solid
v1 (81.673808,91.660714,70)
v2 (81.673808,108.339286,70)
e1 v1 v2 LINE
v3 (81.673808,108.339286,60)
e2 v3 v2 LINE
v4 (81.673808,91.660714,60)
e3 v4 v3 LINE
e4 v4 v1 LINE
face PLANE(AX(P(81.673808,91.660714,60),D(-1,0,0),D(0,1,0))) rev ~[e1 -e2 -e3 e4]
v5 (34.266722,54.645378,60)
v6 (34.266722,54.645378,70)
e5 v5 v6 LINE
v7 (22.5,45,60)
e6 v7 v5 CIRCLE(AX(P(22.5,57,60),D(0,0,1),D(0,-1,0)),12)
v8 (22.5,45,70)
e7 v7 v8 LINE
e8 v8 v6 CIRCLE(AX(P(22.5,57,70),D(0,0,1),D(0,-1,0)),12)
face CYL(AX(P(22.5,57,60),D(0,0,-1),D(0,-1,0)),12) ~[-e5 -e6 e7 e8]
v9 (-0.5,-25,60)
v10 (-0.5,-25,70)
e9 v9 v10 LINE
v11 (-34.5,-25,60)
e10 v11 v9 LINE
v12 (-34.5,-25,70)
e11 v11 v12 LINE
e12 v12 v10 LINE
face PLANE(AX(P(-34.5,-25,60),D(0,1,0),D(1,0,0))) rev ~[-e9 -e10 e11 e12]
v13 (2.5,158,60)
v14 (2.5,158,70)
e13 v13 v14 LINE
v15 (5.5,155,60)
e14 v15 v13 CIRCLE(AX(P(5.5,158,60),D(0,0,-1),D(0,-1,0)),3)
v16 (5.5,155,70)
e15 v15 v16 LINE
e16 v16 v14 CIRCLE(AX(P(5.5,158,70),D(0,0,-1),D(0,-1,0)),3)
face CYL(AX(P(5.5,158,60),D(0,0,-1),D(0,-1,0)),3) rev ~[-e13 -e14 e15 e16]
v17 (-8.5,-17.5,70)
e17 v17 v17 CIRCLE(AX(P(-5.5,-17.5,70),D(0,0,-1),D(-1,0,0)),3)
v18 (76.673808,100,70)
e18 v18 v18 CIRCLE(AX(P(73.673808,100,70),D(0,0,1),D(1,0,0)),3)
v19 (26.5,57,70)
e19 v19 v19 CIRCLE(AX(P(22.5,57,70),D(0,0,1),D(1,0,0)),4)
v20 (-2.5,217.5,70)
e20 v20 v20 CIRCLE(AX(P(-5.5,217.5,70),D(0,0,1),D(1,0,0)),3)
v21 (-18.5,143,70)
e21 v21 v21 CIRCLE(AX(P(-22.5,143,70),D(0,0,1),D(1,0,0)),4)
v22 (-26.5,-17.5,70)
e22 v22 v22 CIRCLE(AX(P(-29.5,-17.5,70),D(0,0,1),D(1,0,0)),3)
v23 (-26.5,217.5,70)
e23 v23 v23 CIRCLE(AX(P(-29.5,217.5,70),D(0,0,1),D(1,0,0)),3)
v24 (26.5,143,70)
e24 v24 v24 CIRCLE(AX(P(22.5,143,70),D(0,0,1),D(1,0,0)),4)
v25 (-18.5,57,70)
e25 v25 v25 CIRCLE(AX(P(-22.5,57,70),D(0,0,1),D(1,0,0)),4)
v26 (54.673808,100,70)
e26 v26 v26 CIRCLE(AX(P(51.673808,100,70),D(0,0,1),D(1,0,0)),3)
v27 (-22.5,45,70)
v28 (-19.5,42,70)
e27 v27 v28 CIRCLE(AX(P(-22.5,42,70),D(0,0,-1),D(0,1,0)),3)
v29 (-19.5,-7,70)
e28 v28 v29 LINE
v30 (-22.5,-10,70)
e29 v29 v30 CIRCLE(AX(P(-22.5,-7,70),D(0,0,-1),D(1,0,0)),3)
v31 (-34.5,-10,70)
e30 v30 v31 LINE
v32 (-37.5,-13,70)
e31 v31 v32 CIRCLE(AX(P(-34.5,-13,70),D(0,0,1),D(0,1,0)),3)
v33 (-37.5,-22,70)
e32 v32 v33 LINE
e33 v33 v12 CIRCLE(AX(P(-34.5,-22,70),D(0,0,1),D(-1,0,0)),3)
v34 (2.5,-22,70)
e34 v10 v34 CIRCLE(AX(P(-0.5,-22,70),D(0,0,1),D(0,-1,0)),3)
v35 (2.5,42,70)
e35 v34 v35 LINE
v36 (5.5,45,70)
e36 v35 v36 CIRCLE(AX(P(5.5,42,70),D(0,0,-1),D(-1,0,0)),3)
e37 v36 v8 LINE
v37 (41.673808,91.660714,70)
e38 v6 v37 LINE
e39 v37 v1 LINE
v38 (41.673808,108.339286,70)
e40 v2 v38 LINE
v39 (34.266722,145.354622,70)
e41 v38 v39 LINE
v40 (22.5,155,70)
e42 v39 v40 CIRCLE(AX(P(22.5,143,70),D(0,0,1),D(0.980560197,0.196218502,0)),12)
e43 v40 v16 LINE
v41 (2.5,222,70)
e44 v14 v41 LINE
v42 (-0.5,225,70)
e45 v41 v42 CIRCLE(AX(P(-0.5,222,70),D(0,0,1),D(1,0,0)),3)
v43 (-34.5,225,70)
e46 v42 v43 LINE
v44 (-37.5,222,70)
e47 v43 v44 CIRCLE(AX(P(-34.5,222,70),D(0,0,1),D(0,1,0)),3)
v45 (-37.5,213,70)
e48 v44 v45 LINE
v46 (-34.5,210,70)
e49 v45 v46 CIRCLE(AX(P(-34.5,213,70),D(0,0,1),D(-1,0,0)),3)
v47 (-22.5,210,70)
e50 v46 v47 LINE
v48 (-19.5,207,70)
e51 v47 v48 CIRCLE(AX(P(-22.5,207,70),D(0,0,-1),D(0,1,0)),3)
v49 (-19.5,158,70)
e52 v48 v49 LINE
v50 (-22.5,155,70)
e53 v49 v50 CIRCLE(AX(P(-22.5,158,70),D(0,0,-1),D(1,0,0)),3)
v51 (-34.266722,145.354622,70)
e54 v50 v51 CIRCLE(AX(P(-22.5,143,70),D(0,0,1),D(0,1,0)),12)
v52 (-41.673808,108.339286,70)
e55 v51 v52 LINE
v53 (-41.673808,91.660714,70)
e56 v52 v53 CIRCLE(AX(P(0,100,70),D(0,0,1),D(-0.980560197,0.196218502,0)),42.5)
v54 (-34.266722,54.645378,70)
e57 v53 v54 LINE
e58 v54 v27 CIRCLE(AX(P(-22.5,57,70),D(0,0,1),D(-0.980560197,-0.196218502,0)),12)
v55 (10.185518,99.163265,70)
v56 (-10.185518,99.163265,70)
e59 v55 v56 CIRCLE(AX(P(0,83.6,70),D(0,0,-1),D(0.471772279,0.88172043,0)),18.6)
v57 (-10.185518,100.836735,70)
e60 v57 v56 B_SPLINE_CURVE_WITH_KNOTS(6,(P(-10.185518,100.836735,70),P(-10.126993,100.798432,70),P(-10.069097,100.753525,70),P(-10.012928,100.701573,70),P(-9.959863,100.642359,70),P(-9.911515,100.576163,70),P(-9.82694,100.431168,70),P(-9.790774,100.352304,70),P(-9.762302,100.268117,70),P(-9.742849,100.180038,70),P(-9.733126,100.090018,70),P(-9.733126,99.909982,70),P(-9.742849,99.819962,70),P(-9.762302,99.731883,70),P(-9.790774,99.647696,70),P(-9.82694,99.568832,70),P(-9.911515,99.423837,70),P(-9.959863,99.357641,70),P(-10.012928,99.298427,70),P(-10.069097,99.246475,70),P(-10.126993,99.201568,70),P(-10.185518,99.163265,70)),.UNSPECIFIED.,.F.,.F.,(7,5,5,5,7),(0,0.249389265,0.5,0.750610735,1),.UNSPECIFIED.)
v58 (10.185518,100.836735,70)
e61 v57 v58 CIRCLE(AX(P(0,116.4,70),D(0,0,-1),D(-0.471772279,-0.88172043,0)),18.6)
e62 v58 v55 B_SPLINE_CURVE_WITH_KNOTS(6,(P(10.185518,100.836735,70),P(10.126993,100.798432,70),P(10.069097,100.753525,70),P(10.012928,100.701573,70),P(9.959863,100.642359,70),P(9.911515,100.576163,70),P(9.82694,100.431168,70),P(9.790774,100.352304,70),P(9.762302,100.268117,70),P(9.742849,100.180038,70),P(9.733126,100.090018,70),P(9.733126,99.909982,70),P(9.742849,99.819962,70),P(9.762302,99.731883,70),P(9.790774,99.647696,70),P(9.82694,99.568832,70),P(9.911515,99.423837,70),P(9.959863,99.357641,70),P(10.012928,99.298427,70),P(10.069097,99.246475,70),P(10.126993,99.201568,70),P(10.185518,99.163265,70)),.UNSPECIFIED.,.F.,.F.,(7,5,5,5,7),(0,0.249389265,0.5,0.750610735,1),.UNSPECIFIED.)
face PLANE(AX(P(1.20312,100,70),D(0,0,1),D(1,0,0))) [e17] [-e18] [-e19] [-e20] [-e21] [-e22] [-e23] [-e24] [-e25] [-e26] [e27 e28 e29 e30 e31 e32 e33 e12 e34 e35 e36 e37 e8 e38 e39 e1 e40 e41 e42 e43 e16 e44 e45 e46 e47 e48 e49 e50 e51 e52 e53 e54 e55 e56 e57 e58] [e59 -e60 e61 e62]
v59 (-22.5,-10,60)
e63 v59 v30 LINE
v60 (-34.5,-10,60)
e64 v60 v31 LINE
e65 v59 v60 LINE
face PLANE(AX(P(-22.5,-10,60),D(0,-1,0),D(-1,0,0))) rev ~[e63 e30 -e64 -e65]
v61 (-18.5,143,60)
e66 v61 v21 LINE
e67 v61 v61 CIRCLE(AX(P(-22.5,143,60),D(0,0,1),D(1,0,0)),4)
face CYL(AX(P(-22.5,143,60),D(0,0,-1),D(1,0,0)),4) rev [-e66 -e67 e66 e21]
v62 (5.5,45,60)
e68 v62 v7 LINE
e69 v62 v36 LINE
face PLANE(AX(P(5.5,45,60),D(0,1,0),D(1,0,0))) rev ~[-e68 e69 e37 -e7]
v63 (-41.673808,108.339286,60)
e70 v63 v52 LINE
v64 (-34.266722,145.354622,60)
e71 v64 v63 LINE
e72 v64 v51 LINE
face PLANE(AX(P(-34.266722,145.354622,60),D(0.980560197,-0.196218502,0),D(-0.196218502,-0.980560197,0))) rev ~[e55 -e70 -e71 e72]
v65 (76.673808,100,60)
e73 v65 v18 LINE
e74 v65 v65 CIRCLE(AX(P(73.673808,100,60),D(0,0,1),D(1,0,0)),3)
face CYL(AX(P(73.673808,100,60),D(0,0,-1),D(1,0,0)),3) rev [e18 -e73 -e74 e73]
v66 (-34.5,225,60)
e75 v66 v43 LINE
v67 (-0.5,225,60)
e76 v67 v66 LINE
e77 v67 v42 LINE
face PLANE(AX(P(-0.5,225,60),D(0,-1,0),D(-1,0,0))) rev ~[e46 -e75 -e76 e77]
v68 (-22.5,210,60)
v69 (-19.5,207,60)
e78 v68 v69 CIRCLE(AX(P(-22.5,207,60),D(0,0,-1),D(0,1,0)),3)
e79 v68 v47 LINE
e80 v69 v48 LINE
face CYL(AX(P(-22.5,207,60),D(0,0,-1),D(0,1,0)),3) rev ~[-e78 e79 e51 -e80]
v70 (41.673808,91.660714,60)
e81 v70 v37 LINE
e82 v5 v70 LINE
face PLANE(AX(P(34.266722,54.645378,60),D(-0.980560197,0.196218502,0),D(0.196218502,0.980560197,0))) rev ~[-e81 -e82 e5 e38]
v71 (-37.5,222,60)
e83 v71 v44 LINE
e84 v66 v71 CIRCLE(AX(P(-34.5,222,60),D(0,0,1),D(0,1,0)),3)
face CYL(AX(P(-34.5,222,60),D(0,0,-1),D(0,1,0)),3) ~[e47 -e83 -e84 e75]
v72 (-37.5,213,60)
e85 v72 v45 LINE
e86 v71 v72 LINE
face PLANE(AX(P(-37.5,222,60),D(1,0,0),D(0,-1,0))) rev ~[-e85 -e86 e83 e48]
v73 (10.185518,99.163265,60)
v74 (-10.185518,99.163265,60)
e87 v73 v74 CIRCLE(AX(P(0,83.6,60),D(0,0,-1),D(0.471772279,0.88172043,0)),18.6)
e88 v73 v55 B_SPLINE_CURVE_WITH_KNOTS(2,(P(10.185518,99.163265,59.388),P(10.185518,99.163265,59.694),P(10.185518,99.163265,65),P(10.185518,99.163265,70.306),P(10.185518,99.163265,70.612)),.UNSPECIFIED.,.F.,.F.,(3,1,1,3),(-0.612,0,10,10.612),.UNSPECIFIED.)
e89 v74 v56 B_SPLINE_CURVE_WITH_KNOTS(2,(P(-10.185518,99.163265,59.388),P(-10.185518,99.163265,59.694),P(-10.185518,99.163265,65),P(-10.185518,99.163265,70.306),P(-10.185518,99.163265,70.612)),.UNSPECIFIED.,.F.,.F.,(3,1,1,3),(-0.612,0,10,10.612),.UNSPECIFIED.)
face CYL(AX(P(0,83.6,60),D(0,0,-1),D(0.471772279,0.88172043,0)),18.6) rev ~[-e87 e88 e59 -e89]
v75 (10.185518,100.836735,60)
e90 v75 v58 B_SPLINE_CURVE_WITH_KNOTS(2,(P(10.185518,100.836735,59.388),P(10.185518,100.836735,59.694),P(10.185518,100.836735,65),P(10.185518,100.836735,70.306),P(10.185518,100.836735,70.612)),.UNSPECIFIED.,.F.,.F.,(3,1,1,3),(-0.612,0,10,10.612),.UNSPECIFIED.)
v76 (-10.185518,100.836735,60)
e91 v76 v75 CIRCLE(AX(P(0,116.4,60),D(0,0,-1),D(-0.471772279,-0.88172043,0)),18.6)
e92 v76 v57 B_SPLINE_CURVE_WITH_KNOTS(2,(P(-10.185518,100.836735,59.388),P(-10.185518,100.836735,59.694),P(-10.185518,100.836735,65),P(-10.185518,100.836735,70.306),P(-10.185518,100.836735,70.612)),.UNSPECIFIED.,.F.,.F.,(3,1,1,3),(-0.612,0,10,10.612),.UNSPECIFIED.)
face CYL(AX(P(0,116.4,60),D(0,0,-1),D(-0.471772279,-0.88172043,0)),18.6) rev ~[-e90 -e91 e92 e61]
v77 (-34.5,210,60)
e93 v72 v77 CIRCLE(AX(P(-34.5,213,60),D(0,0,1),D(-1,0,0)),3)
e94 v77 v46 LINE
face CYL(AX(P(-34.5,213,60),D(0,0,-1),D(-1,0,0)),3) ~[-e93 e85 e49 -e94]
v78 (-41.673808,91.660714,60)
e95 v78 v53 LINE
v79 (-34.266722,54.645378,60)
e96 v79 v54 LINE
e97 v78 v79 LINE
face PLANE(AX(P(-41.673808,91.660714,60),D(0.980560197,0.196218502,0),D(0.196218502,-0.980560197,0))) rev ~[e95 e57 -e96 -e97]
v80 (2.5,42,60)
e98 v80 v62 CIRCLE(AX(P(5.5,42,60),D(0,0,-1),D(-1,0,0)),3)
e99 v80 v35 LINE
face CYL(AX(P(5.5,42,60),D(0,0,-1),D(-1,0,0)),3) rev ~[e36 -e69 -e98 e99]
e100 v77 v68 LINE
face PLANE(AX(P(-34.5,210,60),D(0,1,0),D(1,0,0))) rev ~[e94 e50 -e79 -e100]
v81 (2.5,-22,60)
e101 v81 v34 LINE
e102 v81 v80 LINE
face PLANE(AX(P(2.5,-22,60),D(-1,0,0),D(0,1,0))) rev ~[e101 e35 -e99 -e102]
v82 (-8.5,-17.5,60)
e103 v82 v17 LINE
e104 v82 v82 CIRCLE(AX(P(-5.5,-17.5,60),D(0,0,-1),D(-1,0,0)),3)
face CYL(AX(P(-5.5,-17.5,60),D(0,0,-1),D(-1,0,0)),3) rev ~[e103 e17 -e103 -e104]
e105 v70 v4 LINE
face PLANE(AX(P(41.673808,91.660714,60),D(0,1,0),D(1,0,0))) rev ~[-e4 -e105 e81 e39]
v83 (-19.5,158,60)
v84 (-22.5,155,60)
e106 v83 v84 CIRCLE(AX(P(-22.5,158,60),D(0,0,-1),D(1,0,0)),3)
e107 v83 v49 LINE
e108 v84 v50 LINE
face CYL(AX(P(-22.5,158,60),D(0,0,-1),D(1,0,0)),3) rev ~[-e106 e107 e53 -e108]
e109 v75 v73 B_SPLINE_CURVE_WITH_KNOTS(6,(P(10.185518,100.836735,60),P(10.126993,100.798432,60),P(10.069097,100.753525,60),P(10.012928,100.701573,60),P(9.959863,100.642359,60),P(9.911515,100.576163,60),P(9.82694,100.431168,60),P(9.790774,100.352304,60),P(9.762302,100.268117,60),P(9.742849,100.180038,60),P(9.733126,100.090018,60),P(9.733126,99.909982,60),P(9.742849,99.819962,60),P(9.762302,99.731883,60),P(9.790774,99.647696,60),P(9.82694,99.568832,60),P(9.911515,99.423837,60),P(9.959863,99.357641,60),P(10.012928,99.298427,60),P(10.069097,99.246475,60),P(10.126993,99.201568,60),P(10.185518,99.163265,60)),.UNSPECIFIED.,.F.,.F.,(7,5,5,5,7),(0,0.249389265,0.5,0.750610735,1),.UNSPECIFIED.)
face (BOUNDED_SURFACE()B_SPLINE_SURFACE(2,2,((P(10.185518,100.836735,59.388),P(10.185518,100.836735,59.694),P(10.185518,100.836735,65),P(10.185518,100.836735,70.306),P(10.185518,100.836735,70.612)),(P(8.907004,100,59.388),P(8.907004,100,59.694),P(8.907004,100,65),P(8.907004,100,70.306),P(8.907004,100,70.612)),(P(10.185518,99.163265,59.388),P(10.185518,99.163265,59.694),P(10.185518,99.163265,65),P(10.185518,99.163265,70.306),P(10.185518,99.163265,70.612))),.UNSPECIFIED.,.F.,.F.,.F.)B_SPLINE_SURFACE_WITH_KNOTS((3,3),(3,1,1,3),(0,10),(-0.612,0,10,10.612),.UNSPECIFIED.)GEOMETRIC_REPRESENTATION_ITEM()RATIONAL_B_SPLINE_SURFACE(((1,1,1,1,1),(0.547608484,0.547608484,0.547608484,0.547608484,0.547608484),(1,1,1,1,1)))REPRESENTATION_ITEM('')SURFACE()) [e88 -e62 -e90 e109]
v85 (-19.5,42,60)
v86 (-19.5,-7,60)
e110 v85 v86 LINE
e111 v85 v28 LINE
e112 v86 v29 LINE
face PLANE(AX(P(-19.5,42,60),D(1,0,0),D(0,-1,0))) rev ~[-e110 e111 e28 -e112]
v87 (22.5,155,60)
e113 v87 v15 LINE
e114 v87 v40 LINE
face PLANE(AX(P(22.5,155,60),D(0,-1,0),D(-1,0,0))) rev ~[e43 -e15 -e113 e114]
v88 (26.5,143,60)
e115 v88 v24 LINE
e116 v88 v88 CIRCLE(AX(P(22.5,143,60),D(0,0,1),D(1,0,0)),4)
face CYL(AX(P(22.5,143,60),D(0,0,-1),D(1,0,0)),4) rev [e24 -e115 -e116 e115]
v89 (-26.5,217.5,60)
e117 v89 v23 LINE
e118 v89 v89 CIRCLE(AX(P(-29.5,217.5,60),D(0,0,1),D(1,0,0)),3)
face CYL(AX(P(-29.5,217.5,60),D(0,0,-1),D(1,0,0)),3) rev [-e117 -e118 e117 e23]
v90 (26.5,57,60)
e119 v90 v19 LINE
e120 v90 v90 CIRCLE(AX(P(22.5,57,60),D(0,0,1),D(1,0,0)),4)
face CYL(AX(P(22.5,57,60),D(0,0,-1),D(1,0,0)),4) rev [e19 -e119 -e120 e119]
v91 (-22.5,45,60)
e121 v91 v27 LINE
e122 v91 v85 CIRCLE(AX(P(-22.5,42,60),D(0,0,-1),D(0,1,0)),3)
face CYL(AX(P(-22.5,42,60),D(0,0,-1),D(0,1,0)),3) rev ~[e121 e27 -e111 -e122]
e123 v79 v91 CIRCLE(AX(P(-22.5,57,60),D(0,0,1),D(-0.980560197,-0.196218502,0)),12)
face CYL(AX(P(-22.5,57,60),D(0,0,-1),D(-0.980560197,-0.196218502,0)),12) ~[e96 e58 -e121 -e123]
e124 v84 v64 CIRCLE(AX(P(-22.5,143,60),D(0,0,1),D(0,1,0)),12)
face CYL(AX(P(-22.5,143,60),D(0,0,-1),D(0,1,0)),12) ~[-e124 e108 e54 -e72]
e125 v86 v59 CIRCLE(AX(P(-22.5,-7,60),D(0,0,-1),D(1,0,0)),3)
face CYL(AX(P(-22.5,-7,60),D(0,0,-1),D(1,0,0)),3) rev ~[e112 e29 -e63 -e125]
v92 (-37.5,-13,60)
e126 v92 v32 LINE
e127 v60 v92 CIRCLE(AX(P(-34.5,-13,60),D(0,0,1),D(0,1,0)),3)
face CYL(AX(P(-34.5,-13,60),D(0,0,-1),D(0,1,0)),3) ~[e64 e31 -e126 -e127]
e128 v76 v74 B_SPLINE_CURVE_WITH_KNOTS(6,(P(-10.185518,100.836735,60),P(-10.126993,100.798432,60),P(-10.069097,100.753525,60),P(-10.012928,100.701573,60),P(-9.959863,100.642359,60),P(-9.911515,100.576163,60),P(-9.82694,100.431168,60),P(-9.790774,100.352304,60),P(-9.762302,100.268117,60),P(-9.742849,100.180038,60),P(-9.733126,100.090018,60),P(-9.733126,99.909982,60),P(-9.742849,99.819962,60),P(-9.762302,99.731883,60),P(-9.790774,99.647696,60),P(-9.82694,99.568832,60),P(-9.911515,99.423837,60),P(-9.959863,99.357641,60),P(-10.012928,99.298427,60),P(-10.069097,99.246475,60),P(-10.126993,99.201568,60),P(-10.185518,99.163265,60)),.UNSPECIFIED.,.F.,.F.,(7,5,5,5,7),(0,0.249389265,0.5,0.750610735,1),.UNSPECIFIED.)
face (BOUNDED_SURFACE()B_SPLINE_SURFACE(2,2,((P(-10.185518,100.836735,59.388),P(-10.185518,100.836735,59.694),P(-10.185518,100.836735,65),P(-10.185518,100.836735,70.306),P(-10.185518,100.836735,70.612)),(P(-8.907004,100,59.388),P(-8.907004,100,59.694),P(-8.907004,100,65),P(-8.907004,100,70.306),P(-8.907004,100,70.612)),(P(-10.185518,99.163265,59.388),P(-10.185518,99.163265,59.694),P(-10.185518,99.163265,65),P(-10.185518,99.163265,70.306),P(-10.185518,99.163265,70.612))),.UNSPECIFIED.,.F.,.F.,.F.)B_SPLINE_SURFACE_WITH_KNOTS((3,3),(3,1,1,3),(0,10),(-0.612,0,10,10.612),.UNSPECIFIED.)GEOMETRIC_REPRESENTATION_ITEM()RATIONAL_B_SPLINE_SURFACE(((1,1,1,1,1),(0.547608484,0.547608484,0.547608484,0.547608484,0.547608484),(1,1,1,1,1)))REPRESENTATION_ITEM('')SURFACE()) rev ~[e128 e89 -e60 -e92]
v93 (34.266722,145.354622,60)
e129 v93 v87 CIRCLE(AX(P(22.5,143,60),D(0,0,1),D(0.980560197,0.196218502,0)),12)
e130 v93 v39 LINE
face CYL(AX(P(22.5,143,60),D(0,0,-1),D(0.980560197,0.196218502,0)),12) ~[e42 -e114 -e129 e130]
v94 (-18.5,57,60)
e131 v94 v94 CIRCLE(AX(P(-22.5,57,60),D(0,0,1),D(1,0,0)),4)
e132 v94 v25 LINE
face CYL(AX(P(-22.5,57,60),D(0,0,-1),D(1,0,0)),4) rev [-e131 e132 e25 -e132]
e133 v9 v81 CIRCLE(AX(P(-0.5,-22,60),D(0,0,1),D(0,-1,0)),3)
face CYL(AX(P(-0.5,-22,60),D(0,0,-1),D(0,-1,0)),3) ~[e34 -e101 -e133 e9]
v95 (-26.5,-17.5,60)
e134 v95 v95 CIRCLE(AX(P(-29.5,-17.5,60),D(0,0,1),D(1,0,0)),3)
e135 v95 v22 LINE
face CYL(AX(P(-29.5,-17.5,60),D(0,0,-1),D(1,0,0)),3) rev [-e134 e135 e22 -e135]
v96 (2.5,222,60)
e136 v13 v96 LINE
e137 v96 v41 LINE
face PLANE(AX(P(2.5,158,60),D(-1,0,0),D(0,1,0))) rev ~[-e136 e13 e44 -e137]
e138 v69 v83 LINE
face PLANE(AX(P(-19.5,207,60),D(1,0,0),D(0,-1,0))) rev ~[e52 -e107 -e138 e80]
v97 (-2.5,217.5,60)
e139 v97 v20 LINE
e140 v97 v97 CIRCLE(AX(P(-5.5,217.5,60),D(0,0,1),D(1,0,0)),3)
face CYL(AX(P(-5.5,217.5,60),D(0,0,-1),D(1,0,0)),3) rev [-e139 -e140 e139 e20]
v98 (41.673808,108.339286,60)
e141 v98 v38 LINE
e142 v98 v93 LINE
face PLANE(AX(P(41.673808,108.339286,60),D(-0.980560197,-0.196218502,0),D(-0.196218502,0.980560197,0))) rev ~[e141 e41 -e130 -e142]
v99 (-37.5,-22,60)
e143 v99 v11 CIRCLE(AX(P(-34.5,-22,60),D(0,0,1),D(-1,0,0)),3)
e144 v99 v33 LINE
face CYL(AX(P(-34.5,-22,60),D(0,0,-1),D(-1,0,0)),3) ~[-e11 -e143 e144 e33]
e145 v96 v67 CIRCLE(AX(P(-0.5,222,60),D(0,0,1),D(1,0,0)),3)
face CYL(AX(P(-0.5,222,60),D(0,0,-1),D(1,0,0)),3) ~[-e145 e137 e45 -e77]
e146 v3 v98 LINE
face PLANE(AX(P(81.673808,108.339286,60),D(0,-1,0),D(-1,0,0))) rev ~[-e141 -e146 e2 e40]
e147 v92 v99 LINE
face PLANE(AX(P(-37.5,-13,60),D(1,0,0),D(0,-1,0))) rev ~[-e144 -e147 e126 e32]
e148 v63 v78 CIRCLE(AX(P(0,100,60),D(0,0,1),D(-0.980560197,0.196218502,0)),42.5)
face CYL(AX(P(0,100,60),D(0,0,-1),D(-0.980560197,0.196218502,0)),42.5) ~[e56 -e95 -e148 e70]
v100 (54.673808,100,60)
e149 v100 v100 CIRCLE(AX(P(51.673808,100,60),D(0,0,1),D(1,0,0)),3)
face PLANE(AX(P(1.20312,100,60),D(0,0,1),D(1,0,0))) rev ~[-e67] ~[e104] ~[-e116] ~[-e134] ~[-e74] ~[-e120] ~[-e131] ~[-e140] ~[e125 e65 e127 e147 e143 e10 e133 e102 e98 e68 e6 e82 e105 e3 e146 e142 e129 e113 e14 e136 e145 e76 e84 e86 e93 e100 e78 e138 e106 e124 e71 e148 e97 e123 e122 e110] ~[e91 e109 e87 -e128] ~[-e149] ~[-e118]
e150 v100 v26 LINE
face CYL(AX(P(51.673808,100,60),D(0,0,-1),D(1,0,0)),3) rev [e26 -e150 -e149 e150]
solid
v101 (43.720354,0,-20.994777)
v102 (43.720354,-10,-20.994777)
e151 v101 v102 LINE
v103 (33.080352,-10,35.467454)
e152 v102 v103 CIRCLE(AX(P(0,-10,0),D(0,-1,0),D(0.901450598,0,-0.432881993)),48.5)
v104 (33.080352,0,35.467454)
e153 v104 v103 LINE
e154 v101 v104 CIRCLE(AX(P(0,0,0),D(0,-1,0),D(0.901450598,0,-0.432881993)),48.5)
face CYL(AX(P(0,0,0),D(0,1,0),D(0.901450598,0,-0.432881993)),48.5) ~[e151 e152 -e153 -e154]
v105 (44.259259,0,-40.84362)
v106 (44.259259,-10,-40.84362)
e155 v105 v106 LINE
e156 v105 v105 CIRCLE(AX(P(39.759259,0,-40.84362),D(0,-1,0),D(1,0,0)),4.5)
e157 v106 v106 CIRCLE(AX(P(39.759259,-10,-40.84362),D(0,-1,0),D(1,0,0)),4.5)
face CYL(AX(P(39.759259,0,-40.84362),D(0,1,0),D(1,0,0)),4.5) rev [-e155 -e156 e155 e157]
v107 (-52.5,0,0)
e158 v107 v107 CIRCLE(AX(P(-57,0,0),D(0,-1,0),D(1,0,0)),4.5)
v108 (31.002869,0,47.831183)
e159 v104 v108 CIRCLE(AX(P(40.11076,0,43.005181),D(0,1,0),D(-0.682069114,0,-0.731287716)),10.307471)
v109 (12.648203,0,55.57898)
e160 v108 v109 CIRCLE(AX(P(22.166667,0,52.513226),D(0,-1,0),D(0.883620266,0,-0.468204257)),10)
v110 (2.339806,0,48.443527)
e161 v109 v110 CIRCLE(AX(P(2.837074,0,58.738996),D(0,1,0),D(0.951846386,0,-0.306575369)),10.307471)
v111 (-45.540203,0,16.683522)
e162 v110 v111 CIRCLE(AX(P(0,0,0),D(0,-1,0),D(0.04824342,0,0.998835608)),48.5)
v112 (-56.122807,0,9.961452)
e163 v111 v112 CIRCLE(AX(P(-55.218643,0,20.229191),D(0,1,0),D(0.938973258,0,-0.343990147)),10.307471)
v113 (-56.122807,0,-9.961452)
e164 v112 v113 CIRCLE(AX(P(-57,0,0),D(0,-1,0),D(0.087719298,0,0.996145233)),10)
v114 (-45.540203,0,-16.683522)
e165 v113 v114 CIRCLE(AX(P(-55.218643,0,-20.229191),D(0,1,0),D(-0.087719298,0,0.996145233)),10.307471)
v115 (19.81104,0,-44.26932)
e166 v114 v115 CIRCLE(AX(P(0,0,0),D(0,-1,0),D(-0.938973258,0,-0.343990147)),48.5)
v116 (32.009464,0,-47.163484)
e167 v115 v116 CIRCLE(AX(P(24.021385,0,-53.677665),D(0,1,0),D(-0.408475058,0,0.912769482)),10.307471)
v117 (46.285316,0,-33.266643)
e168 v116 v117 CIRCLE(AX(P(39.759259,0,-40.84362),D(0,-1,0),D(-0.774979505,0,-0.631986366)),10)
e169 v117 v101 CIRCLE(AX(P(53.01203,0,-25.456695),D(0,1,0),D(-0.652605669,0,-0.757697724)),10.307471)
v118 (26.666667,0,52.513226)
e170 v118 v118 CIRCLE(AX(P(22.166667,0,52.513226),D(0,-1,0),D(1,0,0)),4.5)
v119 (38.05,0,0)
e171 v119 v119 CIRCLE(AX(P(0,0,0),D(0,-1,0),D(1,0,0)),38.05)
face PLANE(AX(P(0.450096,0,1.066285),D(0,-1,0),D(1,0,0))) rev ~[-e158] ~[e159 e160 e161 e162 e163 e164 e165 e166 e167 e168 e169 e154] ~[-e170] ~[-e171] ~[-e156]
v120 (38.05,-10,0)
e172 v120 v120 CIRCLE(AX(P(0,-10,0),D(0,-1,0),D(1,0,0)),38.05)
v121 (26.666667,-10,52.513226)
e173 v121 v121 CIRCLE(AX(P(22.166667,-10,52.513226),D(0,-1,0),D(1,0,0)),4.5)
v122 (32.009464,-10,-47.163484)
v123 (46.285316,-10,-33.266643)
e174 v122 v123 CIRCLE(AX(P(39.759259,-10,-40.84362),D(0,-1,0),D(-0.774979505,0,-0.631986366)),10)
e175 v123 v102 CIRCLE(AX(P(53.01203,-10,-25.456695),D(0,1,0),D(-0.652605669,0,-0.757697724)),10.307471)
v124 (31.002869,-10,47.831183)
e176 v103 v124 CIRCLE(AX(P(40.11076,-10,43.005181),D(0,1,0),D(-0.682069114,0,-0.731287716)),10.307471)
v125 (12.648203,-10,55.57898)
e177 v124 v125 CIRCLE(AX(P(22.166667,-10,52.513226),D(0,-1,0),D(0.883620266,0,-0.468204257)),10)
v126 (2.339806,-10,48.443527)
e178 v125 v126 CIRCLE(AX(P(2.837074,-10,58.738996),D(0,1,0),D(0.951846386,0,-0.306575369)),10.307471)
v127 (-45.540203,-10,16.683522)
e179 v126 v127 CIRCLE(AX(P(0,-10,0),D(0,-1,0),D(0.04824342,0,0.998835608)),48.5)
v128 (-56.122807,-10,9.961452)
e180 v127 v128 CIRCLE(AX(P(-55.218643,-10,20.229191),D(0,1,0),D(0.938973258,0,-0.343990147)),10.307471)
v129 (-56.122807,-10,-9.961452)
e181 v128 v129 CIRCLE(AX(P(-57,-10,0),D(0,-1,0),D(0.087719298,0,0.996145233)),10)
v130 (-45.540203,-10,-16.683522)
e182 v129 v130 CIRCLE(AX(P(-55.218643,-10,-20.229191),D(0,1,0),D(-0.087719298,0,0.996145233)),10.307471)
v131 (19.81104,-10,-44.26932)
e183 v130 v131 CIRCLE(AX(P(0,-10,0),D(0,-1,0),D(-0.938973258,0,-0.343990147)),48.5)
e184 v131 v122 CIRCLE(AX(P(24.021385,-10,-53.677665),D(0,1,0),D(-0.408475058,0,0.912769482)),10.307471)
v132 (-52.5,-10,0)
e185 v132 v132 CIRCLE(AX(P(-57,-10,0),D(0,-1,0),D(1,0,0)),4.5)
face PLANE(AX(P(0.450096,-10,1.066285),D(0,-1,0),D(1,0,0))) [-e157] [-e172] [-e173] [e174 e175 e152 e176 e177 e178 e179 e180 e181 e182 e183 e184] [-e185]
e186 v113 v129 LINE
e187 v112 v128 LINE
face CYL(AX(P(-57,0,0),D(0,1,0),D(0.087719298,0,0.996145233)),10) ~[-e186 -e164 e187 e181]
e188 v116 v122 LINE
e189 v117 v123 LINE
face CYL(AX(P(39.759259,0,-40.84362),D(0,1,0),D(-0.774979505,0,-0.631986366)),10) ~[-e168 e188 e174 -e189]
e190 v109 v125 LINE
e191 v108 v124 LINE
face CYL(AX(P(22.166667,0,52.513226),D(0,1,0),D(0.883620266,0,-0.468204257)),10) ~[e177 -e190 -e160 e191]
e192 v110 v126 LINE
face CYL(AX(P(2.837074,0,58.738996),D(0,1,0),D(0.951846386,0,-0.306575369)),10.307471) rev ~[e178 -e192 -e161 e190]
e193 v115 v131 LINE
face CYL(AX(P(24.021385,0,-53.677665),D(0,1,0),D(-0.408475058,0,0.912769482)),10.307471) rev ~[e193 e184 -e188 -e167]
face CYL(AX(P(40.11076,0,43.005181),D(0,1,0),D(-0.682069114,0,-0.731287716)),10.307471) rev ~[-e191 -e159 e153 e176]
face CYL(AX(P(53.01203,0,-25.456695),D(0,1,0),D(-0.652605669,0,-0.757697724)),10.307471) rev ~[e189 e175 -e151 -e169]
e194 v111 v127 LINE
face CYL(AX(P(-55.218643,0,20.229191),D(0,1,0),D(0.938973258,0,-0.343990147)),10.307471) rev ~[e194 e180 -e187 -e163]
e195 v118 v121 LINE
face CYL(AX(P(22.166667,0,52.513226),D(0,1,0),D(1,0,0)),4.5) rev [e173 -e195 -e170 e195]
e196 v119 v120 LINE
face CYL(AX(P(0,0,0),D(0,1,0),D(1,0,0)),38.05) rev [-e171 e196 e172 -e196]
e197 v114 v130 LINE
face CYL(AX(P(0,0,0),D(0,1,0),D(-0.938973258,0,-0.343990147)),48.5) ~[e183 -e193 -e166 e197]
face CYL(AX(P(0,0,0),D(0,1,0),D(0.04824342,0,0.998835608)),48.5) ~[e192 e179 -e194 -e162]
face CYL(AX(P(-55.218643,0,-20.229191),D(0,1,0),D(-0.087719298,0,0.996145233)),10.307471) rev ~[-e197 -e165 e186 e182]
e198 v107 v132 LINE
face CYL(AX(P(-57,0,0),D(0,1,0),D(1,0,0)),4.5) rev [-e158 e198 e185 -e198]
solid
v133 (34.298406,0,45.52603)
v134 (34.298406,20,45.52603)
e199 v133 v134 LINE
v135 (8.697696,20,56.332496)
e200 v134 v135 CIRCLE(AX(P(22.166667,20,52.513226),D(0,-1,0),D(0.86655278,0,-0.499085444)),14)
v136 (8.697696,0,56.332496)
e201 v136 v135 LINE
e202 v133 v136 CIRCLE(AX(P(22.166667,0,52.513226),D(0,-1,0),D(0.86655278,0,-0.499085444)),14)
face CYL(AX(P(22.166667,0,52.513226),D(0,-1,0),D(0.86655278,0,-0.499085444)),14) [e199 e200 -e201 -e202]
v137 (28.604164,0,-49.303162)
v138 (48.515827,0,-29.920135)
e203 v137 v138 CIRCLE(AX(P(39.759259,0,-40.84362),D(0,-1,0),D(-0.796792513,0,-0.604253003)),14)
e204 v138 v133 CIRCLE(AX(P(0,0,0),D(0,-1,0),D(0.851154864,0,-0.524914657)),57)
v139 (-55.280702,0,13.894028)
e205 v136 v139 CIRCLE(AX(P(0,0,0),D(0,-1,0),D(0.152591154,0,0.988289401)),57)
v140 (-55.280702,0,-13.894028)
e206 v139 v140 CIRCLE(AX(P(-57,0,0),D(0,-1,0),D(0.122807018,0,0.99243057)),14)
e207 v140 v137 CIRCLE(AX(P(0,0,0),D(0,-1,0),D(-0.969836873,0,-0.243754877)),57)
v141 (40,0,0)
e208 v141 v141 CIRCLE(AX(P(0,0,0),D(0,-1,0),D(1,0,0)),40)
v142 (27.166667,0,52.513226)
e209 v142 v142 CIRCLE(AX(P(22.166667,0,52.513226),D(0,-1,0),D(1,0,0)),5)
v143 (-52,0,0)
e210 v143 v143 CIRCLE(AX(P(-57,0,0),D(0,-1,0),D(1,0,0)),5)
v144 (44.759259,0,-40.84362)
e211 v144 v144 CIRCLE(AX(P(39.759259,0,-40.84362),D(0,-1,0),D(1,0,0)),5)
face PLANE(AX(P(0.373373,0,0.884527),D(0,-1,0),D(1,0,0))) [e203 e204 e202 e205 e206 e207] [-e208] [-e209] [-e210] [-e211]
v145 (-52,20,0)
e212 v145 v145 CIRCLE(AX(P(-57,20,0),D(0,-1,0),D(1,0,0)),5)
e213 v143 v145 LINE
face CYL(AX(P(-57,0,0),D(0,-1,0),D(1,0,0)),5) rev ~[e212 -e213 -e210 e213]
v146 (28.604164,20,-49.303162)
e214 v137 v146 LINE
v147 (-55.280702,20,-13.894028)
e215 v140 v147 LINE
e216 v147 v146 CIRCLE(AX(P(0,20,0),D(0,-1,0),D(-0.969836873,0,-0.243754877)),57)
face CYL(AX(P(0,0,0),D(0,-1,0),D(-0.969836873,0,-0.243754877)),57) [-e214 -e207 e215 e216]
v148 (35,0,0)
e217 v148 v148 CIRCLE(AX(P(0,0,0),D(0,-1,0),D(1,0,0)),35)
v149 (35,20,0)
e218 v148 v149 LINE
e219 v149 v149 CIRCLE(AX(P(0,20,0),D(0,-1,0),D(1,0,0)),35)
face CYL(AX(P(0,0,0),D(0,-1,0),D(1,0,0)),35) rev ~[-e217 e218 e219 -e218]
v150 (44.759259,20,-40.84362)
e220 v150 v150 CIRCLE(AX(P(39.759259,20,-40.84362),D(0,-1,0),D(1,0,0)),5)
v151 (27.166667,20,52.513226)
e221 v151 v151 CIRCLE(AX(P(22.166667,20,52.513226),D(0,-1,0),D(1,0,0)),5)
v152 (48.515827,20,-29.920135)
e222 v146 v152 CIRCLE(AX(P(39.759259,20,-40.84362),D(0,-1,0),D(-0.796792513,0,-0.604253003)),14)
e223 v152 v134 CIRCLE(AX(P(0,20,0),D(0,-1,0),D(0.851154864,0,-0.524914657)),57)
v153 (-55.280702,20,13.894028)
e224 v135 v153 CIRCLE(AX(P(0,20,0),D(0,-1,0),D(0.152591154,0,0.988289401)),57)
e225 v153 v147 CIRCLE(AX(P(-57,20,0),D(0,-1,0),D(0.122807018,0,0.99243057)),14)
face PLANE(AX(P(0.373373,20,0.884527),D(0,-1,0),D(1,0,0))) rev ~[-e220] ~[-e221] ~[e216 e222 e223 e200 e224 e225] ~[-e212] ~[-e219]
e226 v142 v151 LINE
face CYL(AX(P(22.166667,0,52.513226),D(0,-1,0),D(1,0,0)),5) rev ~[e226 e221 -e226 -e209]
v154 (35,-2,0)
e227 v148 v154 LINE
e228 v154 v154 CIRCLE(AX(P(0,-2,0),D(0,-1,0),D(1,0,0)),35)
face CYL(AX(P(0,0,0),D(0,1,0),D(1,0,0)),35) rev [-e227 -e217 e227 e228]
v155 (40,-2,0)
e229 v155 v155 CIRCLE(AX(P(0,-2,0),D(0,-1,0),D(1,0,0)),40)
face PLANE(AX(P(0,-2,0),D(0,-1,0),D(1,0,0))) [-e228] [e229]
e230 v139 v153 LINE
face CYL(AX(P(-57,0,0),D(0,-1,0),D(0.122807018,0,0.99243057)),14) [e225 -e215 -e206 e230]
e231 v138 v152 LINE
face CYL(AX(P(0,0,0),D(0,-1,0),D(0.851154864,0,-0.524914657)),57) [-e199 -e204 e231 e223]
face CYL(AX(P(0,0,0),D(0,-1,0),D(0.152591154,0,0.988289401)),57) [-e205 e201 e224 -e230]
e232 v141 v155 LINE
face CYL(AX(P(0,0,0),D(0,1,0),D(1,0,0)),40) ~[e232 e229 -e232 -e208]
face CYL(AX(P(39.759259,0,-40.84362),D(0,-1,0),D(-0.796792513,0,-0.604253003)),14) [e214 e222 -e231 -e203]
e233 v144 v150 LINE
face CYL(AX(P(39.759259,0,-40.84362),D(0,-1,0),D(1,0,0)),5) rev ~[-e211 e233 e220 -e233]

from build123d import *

# Parameters (mm, degrees)
F6_R      = 40
F6_R_2    = 35
F7_DEPTH  = 2
F0_R      = 5
F0_R_2    = 35
F8_DEPTH  = 20
F2_R      = 3
F2_R_2    = 4
F9_DEPTH  = 10
F10_R     = 4.5
F10_R_2   = 38.05
F11_DEPTH = 10
F12_R     = 1


with BuildPart() as f7:
    # F6 (on face) → F7 (new body)
    with BuildSketch(Plane.XZ):
        Circle(F6_R)
        Circle(F6_R_2, mode=Mode.SUBTRACT)
    extrude(amount=F7_DEPTH)

    # F0 (on Front) → F8 (join)
    with BuildSketch(Plane.XZ):
        with BuildLine():
            ThreePointArc((48.5158272572, -29.9201354535), (56.0141075704, 10.5555555556), (34.2984055824, 45.526029637))
            ThreePointArc((34.2984055824, 45.526029637), (27.6111111111, 65.4112111431), (8.6976957822, 56.3324958446))
            ThreePointArc((8.6976957822, 56.3324958446), (-31.5079355084, 47.5), (-55.2807017544, 13.8940279812))
            ThreePointArc((-55.2807017544, 13.8940279812), (-71, 0), (-55.2807017544, -13.8940279812))
            ThreePointArc((-55.2807017544, -13.8940279812), (-22.1666666667, -52.5132258473), (28.6041640792, -49.3031621433))
            ThreePointArc((28.6041640792, -49.3031621433), (49.524691358, -50.8753864446), (48.5158272572, -29.9201354535))
        make_face()
        with Locations((-57, 0)):
            Circle(F0_R, mode=Mode.SUBTRACT)
        with Locations((39.7592592593, -40.8436201035)):
            Circle(F0_R, mode=Mode.SUBTRACT)
        Circle(F0_R_2, mode=Mode.SUBTRACT)
        with Locations((22.1666666667, 52.5132258473)):
            Circle(F0_R, mode=Mode.SUBTRACT)
    extrude(amount=-F8_DEPTH)


with BuildPart() as f9:
    # F2 (on offset) → F9 (new body)
    with BuildSketch(Plane.XY.offset(60)):
        with BuildLine():
            Line((-34.266722362, 145.3546220199), (-41.6738083653, 108.3392863205))
            ThreePointArc((-41.6738083653, 108.3392863205), (-42.5, 100), (-41.6738083653, 91.6607136795))
            Line((-41.6738083653, 91.6607136795), (-34.266722362, 54.6453779801))
            ThreePointArc((-34.266722362, 54.6453779801), (-30.1073824592, 47.7194972055), (-22.5, 45))
            ThreePointArc((-22.5, 45), (-20.3786796564, 44.1213203436), (-19.5, 42))
            Line((-19.5, 42), (-19.5, -7))
            ThreePointArc((-19.5, -7), (-20.3786796564, -9.1213203436), (-22.5, -10))
            Line((-22.5, -10), (-34.5, -10))
            ThreePointArc((-34.5, -10), (-36.6213203436, -10.8786796564), (-37.5, -13))
            Line((-37.5, -13), (-37.5, -22))
            ThreePointArc((-37.5, -22), (-36.6213203436, -24.1213203436), (-34.5, -25))
            Line((-34.5, -25), (-0.5, -25))
            ThreePointArc((-0.5, -25), (1.6213203436, -24.1213203436), (2.5, -22))
            Line((2.5, -22), (2.5, 42))
            ThreePointArc((2.5, 42), (3.3786796564, 44.1213203436), (5.5, 45))
            Line((5.5, 45), (22.5, 45))
            ThreePointArc((22.5, 45), (30.1073824592, 47.7194972055), (34.266722362, 54.6453779801))
            Line((34.266722362, 54.6453779801), (41.6738083653, 91.6607136795))
            Line((41.6738083653, 91.6607136795), (81.6738083653, 91.6607136795))
            Line((81.6738083653, 91.6607136795), (81.6738083653, 108.3392863205))
            Line((81.6738083653, 108.3392863205), (41.6738083653, 108.3392863205))
            Line((41.6738083653, 108.3392863205), (34.266722362, 145.3546220199))
            ThreePointArc((34.266722362, 145.3546220199), (30.1073824592, 152.2805027945), (22.5, 155))
            Line((22.5, 155), (5.5, 155))
            ThreePointArc((5.5, 155), (3.3786796564, 155.8786796564), (2.5, 158))
            Line((2.5, 158), (2.5, 222))
            ThreePointArc((2.5, 222), (1.6213203436, 224.1213203436), (-0.5, 225))
            Line((-0.5, 225), (-34.5, 225))
            ThreePointArc((-34.5, 225), (-36.6213203436, 224.1213203436), (-37.5, 222))
            Line((-37.5, 222), (-37.5, 213))
            ThreePointArc((-37.5, 213), (-36.6213203436, 210.8786796564), (-34.5, 210))
            Line((-34.5, 210), (-22.5, 210))
            ThreePointArc((-22.5, 210), (-20.3786796564, 209.1213203436), (-19.5, 207))
            Line((-19.5, 207), (-19.5, 158))
            ThreePointArc((-19.5, 158), (-20.3786796564, 155.8786796564), (-22.5, 155))
            ThreePointArc((-22.5, 155), (-30.1073824592, 152.2805027945), (-34.266722362, 145.3546220199))
        make_face()
        with Locations((-29.5, -17.5)):
            Circle(F2_R, mode=Mode.SUBTRACT)
        with BuildLine():
            ThreePointArc((-2.5, -17.5), (-5.5, -20.5), (-8.5, -17.5))
            ThreePointArc((-8.5, -17.5), (-5.5, -14.5), (-2.5, -17.5))
        make_face(mode=Mode.SUBTRACT)
        with Locations((-22.5, 57)):
            Circle(F2_R_2, mode=Mode.SUBTRACT)
        with BuildLine():
            ThreePointArc((8.7749643874, 100), (0, 65), (-8.7749643874, 100))
            ThreePointArc((-8.7749643874, 100), (0, 135), (8.7749643874, 100))
        make_face(mode=Mode.SUBTRACT)
        with Locations((22.5, 57)):
            Circle(F2_R_2, mode=Mode.SUBTRACT)
        with Locations((-22.5, 143)):
            Circle(F2_R_2, mode=Mode.SUBTRACT)
        with Locations((-29.5, 217.5)):
            Circle(F2_R, mode=Mode.SUBTRACT)
        with Locations((-5.5, 217.5)):
            Circle(F2_R, mode=Mode.SUBTRACT)
        with Locations((22.5, 143)):
            Circle(F2_R_2, mode=Mode.SUBTRACT)
        with Locations((51.6738083653, 100)):
            Circle(F2_R, mode=Mode.SUBTRACT)
        with Locations((73.6738083653, 100)):
            Circle(F2_R, mode=Mode.SUBTRACT)
    extrude(amount=F9_DEPTH)

    # F12
    f12_edges = [f9.edges().sort_by_distance(p)[0] for p in [
        (8.774964, 100, 65),
        (-8.774964, 100, 65),
    ]]
    fillet(f12_edges, radius=F12_R)


with BuildPart() as f11:
    # F10 (on face) → F11 (new body)
    with BuildSketch(Plane.XZ):
        with BuildLine():
            ThreePointArc((46.2853159493, -33.2666428645), (42.9225860331, -27.5655058407), (43.7203539958, -20.9947766475))
            ThreePointArc((43.7203539958, -20.9947766475), (47.661126617, 8.9814814815), (33.0803520266, 35.4674542334))
            ThreePointArc((33.0803520266, 35.4674542334), (29.9457897312, 41.2971570619), (31.0028693227, 47.8311832779))
            ThreePointArc((31.0028693227, 47.8311832779), (26.0555555556, 61.7260724872), (12.6482028021, 55.5789795325))
            ThreePointArc((12.6482028021, 55.5789795325), (8.7035609955, 50.263839189), (2.3398058619, 48.4435270034))
            ThreePointArc((2.3398058619, 48.4435270034), (-26.809383722, 40.4166666667), (-45.5402029996, 16.6835221329))
            ThreePointArc((-45.5402029996, 16.6835221329), (-49.6920223629, 11.5285913063), (-56.1228070175, 9.9614523274))
            ThreePointArc((-56.1228070175, 9.9614523274), (-67, 0), (-56.1228070175, -9.9614523274))
            ThreePointArc((-56.1228070175, -9.9614523274), (-49.6920223629, -11.5285913063), (-45.5402029996, -16.6835221329))
            ThreePointArc((-45.5402029996, -16.6835221329), (-18.8611111111, -44.6823062034), (19.8110403122, -44.26931987))
            ThreePointArc((19.8110403122, -44.26931987), (26.400852572, -43.6486023545), (32.009464211, -47.1634837658))
            ThreePointArc((32.009464211, -47.1634837658), (46.7345679012, -48.00916749), (46.2853159493, -33.2666428645))
        make_face()
        with Locations((-57, 0)):
            Circle(F10_R, mode=Mode.SUBTRACT)
        with Locations((39.7592592593, -40.8436201035)):
            Circle(F10_R, mode=Mode.SUBTRACT)
        Circle(F10_R_2, mode=Mode.SUBTRACT)
        with Locations((22.1666666667, 52.5132258473)):
            Circle(F10_R, mode=Mode.SUBTRACT)
    extrude(amount=F11_DEPTH)


solid = Compound([f7.part, f9.part, f11.part])
